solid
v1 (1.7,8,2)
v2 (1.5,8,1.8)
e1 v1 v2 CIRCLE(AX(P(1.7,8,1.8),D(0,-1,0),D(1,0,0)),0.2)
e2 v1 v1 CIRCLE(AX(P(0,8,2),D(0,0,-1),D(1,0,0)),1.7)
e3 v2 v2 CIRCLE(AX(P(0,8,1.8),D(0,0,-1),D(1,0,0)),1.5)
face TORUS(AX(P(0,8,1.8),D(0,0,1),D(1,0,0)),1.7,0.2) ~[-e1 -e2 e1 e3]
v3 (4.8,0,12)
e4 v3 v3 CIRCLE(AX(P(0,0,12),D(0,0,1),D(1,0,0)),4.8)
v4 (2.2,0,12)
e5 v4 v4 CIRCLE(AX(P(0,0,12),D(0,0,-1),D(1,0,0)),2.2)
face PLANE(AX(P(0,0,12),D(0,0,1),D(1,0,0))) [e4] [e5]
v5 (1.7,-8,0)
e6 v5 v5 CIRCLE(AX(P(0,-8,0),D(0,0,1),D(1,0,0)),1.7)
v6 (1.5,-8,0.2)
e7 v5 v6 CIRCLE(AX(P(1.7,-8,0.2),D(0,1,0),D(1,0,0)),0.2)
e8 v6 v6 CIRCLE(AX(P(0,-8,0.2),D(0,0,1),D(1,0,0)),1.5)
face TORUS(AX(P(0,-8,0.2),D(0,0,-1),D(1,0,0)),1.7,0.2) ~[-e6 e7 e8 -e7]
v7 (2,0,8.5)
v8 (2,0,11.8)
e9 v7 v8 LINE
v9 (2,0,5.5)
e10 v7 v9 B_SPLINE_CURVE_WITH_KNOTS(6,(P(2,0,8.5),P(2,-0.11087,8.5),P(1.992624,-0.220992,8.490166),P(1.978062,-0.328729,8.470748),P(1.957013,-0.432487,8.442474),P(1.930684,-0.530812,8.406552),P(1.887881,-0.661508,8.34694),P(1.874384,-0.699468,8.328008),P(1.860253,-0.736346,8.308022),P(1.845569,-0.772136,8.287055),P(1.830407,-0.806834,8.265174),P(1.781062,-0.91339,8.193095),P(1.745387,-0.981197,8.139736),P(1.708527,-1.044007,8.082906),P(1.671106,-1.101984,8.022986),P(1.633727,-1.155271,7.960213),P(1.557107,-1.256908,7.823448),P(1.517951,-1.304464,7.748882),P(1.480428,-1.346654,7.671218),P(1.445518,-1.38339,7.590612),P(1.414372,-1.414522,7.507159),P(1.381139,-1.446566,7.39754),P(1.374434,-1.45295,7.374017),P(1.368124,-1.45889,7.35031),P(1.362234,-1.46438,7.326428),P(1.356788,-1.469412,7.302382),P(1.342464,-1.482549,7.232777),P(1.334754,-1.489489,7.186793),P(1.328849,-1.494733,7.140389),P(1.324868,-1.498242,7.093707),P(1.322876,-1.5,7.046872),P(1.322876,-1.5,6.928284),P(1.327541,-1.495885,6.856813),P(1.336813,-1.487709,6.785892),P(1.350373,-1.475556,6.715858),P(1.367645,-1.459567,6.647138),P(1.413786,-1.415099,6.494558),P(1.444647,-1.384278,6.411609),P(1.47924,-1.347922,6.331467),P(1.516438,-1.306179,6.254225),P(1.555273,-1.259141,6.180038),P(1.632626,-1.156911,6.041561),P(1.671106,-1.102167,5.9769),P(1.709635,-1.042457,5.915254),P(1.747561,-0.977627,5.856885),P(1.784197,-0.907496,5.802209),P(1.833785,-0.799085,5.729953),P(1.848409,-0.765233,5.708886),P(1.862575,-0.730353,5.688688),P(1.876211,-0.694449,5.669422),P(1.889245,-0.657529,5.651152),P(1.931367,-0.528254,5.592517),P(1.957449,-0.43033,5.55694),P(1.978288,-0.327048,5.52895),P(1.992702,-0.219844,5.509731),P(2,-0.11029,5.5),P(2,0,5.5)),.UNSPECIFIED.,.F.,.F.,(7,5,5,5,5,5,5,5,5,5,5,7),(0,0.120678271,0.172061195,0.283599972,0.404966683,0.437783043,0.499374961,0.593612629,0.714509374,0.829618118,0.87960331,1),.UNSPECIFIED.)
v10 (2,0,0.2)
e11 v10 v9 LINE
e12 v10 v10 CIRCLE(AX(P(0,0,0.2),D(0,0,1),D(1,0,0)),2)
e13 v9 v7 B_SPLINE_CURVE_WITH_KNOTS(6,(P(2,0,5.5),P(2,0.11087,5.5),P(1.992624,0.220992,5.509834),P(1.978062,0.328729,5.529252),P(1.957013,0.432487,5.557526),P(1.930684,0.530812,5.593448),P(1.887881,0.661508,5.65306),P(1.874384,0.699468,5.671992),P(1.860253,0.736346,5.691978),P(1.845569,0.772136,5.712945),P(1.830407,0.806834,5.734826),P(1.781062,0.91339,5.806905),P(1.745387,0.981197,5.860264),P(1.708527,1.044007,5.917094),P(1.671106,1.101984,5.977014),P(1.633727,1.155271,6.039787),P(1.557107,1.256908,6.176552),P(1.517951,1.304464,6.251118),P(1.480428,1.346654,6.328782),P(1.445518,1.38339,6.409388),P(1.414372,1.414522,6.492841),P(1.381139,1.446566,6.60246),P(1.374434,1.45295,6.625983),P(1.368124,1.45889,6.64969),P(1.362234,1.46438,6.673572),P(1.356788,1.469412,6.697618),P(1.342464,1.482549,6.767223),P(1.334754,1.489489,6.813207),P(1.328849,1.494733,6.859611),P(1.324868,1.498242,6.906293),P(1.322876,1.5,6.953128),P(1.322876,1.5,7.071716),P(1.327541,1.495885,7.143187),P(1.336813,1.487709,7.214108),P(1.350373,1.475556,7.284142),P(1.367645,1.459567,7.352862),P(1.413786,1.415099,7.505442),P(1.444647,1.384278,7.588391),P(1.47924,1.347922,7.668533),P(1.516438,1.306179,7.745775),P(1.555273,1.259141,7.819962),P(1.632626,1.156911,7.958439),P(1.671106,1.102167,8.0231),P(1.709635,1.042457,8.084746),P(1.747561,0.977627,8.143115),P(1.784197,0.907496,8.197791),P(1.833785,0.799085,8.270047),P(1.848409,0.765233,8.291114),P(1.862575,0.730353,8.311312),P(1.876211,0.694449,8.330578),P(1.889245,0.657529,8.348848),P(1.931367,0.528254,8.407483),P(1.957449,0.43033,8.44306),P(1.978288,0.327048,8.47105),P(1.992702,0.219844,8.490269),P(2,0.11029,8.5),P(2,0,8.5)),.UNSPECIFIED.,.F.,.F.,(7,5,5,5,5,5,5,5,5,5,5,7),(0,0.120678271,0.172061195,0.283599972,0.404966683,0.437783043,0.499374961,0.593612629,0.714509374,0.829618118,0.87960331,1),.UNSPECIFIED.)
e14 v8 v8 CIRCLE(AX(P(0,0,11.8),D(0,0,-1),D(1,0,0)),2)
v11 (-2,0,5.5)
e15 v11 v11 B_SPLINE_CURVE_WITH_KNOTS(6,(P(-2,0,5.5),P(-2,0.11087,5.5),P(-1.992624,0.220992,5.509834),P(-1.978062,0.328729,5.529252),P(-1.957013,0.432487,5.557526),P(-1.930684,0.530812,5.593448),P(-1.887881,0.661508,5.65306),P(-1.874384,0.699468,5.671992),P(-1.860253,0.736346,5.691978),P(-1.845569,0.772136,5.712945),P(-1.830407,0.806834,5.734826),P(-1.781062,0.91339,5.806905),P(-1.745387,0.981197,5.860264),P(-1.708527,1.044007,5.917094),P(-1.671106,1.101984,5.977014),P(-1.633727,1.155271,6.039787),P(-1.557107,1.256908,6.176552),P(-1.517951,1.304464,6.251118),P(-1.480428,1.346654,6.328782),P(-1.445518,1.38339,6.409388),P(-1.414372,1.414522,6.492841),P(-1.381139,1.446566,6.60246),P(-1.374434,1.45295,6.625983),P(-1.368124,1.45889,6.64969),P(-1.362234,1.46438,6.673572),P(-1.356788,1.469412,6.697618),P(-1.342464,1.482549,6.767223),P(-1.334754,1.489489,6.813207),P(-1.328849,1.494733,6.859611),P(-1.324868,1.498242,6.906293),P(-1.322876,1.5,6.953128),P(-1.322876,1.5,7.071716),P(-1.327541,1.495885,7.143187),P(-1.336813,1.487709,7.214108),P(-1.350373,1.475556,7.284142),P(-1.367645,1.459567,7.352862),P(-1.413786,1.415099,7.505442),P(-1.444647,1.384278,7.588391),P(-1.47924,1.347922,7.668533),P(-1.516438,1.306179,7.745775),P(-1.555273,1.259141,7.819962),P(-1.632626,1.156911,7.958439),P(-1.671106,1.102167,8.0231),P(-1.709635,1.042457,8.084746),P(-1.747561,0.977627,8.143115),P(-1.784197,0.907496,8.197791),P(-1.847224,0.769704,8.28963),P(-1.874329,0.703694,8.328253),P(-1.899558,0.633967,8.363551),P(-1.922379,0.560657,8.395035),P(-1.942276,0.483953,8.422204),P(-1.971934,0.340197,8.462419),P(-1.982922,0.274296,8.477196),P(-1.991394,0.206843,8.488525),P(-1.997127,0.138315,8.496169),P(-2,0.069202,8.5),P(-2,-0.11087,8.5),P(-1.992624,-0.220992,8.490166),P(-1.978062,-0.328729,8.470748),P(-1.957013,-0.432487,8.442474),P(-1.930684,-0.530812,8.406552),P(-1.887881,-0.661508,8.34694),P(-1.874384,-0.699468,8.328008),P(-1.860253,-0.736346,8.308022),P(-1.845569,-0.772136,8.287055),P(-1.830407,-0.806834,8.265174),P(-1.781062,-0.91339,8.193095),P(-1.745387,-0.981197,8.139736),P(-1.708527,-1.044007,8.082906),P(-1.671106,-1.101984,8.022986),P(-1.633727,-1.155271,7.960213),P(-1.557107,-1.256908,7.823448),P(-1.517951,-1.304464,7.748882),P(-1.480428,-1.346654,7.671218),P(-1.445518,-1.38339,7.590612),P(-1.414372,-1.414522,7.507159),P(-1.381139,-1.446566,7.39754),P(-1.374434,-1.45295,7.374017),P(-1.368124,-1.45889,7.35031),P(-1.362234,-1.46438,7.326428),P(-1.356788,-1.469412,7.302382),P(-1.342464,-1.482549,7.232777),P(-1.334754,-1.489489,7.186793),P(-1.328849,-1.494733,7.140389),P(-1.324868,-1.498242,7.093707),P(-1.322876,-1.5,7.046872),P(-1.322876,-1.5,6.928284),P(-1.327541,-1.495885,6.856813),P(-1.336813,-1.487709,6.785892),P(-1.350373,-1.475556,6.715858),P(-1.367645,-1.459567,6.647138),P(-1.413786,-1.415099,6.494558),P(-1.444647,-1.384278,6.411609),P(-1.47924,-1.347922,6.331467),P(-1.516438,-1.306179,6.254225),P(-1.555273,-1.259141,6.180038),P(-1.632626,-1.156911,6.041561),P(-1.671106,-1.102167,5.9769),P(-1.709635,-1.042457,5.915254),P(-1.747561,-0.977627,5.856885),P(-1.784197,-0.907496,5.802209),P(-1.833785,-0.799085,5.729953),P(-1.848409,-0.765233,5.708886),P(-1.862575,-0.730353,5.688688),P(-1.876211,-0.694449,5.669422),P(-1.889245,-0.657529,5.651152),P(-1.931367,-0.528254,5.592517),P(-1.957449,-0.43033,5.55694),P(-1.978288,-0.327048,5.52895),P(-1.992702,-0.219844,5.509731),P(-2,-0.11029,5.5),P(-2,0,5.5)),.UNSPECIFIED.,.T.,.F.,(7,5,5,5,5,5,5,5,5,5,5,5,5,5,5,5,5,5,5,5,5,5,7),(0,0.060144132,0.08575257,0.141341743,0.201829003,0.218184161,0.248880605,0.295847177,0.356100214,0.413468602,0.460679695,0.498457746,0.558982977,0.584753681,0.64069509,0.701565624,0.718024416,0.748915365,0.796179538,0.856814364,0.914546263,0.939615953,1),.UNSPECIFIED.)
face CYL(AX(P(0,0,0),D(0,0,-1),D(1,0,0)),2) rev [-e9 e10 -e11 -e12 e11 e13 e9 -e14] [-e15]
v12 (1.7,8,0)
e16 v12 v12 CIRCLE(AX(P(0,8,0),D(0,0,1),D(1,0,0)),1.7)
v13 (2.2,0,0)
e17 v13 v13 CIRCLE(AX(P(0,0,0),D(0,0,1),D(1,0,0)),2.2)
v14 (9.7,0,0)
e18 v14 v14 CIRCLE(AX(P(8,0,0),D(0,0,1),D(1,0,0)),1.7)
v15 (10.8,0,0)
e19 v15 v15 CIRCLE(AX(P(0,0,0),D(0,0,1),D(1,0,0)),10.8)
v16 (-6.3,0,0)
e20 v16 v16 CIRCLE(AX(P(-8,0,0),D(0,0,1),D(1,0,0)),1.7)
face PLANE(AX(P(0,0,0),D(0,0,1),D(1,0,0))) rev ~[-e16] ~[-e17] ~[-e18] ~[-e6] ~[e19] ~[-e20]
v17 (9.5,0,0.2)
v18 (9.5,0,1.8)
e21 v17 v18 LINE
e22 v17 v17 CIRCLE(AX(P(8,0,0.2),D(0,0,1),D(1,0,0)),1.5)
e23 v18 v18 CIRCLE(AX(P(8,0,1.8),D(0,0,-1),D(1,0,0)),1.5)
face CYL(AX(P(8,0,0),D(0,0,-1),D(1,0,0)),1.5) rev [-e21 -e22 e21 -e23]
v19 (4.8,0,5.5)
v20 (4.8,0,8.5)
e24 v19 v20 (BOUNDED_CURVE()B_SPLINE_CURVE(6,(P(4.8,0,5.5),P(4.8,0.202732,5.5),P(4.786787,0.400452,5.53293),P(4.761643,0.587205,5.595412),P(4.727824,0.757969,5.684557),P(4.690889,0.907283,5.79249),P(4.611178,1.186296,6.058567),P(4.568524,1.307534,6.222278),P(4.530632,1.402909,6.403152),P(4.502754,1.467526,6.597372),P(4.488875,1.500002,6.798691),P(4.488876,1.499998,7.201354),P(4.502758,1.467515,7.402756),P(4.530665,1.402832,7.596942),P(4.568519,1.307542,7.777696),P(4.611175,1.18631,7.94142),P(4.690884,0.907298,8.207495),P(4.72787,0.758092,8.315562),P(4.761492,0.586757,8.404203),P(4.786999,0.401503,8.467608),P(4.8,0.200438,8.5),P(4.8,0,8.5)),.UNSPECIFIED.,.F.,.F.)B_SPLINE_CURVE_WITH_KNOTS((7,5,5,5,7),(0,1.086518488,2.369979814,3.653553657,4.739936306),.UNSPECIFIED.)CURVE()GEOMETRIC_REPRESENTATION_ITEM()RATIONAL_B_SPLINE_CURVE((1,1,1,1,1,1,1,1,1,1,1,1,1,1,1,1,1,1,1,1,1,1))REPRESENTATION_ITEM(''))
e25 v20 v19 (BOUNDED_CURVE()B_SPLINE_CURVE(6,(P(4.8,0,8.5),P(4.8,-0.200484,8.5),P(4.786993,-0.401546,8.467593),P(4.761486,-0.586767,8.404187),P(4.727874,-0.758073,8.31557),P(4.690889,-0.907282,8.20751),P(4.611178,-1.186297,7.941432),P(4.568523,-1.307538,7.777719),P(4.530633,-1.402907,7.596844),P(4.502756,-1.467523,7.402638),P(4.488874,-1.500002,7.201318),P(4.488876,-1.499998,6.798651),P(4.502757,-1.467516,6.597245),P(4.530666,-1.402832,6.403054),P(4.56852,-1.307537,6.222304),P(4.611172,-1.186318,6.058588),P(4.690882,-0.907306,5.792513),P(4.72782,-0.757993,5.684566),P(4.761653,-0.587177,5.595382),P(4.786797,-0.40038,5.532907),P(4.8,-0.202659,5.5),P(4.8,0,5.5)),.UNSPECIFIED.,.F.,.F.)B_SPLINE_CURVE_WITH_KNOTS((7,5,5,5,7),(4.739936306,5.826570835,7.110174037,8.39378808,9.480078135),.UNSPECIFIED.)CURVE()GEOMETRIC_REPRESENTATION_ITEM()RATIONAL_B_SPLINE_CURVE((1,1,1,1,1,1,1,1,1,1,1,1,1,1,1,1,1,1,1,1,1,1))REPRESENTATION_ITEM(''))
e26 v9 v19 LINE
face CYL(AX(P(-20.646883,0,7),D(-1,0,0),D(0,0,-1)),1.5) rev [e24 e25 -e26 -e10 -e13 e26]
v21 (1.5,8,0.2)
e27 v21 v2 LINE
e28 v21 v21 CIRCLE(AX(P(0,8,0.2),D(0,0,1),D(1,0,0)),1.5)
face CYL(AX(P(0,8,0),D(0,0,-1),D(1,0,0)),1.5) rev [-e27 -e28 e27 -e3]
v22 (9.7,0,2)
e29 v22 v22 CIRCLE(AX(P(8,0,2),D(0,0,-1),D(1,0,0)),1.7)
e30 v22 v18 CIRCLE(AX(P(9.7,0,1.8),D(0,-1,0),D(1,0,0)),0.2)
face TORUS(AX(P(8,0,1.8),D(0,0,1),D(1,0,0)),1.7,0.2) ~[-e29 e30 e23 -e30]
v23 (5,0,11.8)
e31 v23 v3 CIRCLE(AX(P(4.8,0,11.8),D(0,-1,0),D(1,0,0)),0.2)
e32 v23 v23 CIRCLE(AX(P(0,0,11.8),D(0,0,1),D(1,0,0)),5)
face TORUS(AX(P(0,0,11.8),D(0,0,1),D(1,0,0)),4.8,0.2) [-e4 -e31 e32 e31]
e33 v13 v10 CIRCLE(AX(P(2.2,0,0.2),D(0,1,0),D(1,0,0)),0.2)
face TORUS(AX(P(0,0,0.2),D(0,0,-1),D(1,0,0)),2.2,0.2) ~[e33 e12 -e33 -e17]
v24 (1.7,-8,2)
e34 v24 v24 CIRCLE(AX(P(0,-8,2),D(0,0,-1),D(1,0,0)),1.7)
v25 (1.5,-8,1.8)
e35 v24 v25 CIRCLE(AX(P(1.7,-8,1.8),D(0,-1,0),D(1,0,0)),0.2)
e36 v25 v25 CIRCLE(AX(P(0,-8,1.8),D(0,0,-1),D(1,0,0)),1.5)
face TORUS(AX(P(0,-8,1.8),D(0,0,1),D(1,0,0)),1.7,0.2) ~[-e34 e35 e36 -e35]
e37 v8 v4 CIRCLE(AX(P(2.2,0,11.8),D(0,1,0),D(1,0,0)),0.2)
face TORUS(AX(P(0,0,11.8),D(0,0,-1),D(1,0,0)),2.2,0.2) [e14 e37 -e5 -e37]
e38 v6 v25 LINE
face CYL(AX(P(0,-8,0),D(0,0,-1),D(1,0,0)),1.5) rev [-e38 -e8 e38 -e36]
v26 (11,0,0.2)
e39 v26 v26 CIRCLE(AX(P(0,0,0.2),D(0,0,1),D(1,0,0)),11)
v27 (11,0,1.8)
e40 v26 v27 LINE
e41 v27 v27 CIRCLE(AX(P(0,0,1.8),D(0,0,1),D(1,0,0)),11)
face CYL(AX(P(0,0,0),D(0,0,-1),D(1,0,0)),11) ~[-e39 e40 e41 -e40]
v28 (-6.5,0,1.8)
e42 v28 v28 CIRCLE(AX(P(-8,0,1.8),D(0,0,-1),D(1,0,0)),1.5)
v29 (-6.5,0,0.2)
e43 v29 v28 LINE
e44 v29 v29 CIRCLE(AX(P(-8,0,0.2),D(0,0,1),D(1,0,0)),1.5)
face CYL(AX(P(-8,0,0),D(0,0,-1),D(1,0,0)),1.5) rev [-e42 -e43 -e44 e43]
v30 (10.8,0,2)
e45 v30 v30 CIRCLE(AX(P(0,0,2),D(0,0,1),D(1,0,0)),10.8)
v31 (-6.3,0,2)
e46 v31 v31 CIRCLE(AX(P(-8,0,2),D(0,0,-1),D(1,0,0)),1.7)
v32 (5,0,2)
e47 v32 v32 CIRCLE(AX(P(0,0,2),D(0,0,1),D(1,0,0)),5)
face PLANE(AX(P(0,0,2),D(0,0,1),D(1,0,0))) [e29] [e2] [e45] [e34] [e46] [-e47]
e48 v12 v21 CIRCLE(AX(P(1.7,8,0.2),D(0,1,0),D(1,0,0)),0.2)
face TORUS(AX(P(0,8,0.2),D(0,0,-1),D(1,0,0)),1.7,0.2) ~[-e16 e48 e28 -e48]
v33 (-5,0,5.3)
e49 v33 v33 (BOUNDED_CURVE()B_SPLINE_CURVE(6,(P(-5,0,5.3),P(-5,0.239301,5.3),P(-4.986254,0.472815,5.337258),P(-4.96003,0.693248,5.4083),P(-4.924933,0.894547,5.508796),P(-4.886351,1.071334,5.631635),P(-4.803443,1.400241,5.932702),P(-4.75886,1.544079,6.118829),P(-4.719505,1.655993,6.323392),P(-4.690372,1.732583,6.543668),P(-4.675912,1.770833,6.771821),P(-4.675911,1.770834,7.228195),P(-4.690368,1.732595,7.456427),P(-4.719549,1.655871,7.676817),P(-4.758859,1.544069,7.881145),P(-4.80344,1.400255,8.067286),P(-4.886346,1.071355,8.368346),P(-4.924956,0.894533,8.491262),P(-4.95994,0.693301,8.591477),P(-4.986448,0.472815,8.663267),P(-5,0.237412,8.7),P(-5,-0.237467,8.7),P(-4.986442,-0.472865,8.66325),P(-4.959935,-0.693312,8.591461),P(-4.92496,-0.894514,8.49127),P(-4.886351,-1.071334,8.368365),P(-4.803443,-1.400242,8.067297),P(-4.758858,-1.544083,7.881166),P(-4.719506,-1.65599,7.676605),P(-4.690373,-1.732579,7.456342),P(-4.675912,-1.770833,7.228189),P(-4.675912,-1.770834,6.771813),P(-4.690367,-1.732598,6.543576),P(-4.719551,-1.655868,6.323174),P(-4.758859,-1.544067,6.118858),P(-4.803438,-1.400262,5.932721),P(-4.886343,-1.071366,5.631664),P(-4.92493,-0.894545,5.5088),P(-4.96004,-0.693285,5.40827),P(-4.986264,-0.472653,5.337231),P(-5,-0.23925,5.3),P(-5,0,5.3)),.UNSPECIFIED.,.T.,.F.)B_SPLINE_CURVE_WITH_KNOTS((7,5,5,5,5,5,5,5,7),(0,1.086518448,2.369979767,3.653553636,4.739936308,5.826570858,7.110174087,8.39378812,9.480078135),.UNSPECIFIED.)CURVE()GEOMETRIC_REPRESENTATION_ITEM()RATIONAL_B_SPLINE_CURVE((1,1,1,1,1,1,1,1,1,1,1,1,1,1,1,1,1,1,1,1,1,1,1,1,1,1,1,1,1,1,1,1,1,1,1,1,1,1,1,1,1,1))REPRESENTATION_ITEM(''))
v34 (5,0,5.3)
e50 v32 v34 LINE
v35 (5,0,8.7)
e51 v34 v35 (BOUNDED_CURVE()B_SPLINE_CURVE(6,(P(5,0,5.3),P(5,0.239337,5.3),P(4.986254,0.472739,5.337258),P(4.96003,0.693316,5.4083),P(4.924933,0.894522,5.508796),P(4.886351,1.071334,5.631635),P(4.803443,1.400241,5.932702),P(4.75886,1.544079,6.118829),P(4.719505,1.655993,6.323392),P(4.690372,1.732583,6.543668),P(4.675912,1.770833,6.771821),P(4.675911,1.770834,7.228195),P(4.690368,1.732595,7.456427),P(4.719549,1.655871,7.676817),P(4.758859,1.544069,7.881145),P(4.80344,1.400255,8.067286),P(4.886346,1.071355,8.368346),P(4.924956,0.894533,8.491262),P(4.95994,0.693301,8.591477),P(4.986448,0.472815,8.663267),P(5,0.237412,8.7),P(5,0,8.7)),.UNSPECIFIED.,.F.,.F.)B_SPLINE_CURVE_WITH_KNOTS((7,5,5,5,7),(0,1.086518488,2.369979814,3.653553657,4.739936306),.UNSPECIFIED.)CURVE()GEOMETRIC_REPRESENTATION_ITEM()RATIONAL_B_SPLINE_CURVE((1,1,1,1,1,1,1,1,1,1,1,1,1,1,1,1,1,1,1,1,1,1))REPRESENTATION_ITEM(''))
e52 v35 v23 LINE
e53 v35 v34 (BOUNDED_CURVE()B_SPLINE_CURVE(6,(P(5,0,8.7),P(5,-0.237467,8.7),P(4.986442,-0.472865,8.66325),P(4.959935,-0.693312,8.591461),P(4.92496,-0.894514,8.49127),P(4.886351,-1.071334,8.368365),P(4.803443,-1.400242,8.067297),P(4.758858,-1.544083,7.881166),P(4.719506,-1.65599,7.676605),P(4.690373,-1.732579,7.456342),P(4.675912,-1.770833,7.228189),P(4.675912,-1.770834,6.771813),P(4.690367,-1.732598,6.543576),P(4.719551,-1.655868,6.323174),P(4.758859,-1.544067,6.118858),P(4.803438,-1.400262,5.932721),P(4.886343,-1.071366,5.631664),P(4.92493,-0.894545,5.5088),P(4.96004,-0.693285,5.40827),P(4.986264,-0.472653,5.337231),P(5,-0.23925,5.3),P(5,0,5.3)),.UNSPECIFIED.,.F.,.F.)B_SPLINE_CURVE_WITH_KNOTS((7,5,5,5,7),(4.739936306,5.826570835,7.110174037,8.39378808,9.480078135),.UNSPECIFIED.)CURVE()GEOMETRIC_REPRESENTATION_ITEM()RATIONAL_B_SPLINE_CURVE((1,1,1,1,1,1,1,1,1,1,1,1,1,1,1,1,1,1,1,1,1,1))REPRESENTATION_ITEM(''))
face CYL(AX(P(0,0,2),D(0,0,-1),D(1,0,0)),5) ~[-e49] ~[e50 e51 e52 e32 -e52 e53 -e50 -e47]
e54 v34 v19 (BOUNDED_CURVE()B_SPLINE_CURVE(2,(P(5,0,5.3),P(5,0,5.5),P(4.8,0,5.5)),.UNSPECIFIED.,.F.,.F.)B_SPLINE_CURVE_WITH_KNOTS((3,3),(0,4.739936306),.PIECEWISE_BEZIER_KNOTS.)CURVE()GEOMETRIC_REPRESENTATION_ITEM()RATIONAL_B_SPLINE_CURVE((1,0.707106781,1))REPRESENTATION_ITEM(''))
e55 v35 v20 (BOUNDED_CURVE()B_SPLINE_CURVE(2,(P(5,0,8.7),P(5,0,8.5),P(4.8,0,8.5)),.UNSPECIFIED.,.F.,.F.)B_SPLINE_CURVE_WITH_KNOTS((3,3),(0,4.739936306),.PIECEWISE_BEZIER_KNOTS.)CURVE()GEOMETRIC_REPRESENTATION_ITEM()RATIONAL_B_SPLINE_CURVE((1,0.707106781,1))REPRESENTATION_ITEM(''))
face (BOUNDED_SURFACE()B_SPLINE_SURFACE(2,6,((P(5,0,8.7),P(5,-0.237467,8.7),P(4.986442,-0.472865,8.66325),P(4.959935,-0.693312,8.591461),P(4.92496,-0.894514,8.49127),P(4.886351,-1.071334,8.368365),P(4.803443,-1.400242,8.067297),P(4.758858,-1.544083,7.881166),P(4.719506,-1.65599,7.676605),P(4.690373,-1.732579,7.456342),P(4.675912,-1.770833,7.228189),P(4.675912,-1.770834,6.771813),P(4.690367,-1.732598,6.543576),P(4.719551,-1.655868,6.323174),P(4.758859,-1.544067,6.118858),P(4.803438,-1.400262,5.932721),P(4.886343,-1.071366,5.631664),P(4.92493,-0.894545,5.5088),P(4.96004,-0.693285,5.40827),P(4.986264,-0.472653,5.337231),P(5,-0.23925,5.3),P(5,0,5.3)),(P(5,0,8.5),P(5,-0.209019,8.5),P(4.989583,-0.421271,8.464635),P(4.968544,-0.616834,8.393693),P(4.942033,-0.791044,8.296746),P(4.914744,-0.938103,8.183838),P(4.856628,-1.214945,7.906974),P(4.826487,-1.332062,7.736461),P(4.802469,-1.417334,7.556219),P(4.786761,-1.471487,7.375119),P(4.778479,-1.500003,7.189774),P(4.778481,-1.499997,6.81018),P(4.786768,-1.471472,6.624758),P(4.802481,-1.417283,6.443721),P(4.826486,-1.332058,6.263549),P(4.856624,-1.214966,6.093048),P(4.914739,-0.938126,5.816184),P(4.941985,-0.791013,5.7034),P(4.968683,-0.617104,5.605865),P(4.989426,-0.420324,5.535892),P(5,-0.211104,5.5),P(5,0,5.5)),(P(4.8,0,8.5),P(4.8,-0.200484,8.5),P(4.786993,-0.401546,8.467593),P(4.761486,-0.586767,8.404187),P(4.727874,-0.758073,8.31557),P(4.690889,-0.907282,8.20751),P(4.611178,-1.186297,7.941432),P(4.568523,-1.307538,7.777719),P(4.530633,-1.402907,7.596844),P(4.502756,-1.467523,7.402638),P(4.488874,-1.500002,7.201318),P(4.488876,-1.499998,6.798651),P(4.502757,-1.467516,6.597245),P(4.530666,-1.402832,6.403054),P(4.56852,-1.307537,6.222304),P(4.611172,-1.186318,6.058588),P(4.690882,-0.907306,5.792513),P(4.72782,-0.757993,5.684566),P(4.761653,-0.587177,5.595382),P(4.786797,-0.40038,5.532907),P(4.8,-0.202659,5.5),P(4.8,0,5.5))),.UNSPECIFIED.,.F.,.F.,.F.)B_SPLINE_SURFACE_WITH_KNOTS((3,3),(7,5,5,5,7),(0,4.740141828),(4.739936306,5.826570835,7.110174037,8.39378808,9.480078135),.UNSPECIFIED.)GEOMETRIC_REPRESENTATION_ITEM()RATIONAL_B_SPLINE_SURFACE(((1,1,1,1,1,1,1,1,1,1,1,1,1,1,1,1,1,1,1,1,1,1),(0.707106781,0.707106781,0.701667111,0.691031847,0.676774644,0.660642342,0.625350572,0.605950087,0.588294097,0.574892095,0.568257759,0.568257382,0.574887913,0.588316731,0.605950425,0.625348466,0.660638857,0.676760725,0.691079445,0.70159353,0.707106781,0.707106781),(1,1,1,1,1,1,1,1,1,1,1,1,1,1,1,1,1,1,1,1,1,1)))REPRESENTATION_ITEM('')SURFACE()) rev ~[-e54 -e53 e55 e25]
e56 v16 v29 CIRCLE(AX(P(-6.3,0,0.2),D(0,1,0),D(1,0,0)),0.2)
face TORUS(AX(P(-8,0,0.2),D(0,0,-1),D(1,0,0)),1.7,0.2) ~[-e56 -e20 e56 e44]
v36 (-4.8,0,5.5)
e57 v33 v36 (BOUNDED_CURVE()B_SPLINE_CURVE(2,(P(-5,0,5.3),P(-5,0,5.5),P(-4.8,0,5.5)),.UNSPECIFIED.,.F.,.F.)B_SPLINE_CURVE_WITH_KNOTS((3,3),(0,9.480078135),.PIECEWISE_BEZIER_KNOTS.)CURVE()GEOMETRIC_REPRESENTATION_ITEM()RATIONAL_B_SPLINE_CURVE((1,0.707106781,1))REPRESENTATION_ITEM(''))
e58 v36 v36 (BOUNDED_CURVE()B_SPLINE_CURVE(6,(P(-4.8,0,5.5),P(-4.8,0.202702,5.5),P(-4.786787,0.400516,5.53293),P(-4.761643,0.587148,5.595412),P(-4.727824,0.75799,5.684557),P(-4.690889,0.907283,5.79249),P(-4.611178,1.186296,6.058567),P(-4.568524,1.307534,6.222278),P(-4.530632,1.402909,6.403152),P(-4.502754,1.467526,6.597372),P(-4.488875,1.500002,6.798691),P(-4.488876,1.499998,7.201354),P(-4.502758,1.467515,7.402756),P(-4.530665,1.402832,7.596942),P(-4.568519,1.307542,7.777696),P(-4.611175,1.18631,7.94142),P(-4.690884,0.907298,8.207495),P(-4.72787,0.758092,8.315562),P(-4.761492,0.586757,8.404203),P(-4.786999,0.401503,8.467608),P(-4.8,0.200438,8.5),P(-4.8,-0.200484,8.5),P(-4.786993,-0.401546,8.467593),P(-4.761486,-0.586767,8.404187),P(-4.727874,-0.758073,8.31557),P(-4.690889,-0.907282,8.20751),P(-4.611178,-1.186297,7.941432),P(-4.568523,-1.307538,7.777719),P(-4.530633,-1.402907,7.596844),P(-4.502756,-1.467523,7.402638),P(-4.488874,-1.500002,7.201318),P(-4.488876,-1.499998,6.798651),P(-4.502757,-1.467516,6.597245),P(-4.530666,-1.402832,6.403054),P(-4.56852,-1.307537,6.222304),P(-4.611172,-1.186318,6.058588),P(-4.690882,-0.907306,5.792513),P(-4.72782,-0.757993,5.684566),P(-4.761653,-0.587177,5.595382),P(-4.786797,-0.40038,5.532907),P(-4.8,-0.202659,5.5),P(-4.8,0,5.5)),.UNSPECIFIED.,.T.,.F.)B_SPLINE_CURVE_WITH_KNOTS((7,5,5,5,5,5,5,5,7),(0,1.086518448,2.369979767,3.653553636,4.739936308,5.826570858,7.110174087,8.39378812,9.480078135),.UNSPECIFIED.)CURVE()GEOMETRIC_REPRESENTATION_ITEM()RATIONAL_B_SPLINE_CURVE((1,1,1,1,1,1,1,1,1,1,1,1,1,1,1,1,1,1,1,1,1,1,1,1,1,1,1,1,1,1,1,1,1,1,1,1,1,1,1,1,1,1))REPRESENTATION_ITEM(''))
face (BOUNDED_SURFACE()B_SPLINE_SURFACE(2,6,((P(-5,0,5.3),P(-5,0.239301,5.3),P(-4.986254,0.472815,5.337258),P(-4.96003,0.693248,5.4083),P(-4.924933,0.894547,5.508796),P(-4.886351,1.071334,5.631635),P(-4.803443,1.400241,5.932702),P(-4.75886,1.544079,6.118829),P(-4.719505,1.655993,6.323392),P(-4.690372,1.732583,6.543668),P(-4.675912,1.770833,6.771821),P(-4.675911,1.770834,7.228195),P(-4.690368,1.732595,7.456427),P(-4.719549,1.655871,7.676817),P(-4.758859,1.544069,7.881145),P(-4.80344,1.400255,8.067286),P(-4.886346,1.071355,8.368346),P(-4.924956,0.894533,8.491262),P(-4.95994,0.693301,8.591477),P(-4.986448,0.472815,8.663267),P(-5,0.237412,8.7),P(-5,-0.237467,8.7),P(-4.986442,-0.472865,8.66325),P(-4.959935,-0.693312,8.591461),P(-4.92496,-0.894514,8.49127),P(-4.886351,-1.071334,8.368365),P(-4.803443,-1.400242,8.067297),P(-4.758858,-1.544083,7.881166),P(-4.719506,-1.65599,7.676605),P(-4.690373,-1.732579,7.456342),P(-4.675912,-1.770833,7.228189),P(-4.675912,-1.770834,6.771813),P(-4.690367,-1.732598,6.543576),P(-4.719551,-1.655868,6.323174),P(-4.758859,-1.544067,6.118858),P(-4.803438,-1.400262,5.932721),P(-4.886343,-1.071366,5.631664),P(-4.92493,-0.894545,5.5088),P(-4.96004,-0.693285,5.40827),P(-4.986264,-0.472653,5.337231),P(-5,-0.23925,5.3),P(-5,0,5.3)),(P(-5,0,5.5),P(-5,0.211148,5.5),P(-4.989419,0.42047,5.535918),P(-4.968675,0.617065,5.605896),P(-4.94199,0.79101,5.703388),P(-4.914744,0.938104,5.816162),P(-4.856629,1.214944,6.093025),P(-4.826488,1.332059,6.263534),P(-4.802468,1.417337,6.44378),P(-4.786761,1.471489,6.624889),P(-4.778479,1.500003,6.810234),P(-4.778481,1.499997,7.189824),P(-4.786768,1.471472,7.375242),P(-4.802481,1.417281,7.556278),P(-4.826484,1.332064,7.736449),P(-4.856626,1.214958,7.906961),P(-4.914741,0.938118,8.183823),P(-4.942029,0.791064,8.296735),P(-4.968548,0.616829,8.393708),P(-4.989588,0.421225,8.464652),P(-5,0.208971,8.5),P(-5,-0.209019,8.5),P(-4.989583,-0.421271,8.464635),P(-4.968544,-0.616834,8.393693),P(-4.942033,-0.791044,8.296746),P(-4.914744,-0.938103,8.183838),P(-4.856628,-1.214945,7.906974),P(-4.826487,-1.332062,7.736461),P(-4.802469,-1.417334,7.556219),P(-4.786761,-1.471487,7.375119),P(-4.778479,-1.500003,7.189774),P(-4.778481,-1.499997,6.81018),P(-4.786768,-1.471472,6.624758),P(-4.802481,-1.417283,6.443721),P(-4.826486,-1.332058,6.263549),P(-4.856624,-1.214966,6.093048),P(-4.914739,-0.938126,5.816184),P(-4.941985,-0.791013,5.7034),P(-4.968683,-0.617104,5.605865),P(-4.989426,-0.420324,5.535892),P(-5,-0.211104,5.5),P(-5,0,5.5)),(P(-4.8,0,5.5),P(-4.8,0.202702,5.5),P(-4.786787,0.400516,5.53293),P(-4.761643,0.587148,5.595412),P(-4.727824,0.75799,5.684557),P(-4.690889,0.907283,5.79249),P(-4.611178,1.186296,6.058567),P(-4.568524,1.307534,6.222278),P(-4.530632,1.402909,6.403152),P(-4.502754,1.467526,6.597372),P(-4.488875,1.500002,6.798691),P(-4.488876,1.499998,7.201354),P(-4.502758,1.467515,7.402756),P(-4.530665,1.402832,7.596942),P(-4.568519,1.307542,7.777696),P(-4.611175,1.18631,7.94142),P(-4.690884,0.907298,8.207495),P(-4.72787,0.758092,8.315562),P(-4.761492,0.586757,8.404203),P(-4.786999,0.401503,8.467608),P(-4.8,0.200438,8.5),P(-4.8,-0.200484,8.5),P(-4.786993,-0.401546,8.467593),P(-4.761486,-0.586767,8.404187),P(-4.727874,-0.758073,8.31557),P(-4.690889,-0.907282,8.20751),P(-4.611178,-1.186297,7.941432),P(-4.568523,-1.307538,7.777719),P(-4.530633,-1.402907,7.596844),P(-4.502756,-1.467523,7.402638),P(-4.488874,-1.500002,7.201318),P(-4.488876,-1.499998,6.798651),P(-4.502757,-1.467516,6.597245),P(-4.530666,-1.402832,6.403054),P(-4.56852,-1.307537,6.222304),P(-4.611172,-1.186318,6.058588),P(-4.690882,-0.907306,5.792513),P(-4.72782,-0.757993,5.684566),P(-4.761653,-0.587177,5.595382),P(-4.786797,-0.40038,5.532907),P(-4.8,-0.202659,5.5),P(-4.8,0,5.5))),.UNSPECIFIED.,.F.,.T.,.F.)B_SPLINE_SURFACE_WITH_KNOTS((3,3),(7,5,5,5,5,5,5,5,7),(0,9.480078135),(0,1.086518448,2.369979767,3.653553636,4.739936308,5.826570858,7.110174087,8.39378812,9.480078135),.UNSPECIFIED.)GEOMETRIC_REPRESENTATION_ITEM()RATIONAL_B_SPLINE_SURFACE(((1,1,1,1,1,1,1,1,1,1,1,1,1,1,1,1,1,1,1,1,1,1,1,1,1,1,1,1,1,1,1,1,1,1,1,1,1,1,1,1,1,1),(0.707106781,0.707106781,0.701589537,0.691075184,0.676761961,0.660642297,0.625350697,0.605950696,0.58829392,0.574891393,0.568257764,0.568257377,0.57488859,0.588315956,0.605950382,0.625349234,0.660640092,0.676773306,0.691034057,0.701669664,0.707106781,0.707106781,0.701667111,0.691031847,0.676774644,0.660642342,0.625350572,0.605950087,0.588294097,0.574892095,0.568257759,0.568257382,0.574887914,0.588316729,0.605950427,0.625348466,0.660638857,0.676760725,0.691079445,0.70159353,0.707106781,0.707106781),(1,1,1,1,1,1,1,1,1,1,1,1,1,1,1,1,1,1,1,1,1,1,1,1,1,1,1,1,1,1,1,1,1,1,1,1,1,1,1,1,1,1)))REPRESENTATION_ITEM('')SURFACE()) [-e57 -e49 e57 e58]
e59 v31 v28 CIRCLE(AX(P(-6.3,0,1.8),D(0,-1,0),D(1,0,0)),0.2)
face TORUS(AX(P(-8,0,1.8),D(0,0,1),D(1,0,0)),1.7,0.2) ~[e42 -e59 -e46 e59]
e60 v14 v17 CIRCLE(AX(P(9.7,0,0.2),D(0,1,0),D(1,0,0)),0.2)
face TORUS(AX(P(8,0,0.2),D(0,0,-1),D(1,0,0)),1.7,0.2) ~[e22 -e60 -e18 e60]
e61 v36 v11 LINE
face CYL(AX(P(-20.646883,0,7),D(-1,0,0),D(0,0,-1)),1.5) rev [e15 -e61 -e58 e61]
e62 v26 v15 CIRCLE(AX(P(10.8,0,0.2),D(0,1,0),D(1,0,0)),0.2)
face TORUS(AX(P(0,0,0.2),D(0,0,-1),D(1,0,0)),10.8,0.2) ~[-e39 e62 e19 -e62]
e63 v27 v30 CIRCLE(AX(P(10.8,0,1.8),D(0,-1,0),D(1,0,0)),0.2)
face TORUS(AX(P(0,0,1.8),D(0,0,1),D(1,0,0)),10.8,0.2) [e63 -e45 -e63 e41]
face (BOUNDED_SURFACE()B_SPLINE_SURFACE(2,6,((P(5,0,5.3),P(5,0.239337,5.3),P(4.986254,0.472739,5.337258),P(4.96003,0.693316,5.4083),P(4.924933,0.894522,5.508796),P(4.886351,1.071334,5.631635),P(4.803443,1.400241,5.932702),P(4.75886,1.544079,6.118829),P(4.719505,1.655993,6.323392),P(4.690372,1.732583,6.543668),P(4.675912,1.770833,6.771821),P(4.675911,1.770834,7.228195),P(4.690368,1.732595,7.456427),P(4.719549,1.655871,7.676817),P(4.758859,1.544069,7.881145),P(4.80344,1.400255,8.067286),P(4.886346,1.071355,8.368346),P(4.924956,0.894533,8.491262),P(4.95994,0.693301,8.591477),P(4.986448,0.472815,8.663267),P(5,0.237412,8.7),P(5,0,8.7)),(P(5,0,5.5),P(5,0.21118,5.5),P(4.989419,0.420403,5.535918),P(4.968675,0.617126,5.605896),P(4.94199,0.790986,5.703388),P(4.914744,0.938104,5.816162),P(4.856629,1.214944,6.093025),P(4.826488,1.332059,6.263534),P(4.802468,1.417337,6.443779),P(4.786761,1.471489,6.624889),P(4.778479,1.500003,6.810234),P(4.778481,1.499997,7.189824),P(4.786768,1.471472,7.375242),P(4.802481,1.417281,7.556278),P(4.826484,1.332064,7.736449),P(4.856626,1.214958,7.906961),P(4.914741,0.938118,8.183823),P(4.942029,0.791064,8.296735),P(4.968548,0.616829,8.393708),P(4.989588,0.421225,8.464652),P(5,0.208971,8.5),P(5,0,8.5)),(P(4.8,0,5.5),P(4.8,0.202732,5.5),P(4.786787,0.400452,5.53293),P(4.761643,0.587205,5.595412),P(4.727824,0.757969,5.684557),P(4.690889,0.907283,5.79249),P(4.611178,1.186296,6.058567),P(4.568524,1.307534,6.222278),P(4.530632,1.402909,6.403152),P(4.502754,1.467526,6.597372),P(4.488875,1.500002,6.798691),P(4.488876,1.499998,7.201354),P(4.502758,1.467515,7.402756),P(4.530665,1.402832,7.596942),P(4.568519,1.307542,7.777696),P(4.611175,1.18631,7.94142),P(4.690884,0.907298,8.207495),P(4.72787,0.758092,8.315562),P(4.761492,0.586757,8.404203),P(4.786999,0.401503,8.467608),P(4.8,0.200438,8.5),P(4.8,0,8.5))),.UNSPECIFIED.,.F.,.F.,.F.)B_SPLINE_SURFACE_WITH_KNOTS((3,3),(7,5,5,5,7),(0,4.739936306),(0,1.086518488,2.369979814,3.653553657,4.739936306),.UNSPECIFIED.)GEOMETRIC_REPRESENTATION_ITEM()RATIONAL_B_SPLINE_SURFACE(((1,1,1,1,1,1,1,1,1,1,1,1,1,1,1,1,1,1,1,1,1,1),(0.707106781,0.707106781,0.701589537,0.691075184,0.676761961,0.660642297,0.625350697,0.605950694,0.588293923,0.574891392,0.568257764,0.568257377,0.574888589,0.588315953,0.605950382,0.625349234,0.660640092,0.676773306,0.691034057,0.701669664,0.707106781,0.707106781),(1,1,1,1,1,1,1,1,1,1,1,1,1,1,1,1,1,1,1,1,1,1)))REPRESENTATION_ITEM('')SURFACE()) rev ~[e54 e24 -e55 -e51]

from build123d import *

# Parameters (mm, degrees)
SKETCH1_R               = 11
BOSS_EXTRUDE1_DEPTH     = 2
BOSS_EXTRUDE2_START     = 2
SKETCH2_R               = 5
BOSS_EXTRUDE2_DEPTH     = 10
SKETCH3_R               = 2
CUT_EXTRUDE1_DEPTH      = 20.646882704
SKETCH5_R               = 1.5
CUT_EXTRUDE2_DEPTH      = 20.646882704
CUT_EXTRUDE3_DEPTH      = 20.646882704
CUT_EXTRUDE3_DEPTH_BACK = 20.646882704
SKETCH6_R               = 1.5
FILLET1_R               = 0.2


with BuildPart() as part:
    # Sketch1 → Boss-Extrude1 (new body)
    with BuildSketch(Plane.XY):
        Circle(SKETCH1_R)
    extrude(amount=BOSS_EXTRUDE1_DEPTH)

    # Sketch2 → Boss-Extrude2 (add)
    with BuildSketch(Plane.XY.offset(BOSS_EXTRUDE2_START)):
        Circle(SKETCH2_R)
    extrude(amount=BOSS_EXTRUDE2_DEPTH)

    # Sketch3 → Cut-Extrude1 (cut, through all)
    with BuildSketch(Plane.XY):
        Circle(SKETCH3_R)
    extrude(amount=CUT_EXTRUDE1_DEPTH, mode=Mode.SUBTRACT)

    # Sketch5 → Cut-Extrude2 (cut, through all)
    with BuildSketch(Plane.XY):
        with Locations((0, 8)):
            Circle(SKETCH5_R)
        with Locations((8, 0)):
            Circle(SKETCH5_R)
        with Locations((0, -8)):
            Circle(SKETCH5_R)
        with Locations((-8, 0)):
            Circle(SKETCH5_R)
    extrude(amount=CUT_EXTRUDE2_DEPTH, mode=Mode.SUBTRACT)

    # Sketch6 → Cut-Extrude3 (cut, two sides: drawn at the far end of the back side and taken through both)
    with BuildSketch(Plane(origin=(0, 0, 0), x_dir=(0, 0, -1), z_dir=(1, 0, 0)).offset(-CUT_EXTRUDE3_DEPTH_BACK)):
        with Locations((-7, 0)):
            Circle(SKETCH6_R)
    extrude(amount=CUT_EXTRUDE3_DEPTH + CUT_EXTRUDE3_DEPTH_BACK, mode=Mode.SUBTRACT)

    # Fillet1
    fillet1_edges = [part.edges().sort_by_distance(p)[0] for p in [
        (-2, 0, 0),
        (-2, 0, 12),
        (-11, 0, 0),
        (-1.5, 8, 2),
        (-1.5, 8, 0),
        (6.5, 0, 2),
        (6.5, 0, 0),
        (-1.5, -8, 2),
        (-1.5, -8, 0),
        (-9.5, 0, 2),
        (-9.5, 0, 0),
        (-5, 0, 8.5),
        (4.769696007, 1.5, 7),
        (-11, 0, 2),
        (-5, 0, 12),
    ]]
    fillet(fillet1_edges, radius=FILLET1_R)


solid = part.part
